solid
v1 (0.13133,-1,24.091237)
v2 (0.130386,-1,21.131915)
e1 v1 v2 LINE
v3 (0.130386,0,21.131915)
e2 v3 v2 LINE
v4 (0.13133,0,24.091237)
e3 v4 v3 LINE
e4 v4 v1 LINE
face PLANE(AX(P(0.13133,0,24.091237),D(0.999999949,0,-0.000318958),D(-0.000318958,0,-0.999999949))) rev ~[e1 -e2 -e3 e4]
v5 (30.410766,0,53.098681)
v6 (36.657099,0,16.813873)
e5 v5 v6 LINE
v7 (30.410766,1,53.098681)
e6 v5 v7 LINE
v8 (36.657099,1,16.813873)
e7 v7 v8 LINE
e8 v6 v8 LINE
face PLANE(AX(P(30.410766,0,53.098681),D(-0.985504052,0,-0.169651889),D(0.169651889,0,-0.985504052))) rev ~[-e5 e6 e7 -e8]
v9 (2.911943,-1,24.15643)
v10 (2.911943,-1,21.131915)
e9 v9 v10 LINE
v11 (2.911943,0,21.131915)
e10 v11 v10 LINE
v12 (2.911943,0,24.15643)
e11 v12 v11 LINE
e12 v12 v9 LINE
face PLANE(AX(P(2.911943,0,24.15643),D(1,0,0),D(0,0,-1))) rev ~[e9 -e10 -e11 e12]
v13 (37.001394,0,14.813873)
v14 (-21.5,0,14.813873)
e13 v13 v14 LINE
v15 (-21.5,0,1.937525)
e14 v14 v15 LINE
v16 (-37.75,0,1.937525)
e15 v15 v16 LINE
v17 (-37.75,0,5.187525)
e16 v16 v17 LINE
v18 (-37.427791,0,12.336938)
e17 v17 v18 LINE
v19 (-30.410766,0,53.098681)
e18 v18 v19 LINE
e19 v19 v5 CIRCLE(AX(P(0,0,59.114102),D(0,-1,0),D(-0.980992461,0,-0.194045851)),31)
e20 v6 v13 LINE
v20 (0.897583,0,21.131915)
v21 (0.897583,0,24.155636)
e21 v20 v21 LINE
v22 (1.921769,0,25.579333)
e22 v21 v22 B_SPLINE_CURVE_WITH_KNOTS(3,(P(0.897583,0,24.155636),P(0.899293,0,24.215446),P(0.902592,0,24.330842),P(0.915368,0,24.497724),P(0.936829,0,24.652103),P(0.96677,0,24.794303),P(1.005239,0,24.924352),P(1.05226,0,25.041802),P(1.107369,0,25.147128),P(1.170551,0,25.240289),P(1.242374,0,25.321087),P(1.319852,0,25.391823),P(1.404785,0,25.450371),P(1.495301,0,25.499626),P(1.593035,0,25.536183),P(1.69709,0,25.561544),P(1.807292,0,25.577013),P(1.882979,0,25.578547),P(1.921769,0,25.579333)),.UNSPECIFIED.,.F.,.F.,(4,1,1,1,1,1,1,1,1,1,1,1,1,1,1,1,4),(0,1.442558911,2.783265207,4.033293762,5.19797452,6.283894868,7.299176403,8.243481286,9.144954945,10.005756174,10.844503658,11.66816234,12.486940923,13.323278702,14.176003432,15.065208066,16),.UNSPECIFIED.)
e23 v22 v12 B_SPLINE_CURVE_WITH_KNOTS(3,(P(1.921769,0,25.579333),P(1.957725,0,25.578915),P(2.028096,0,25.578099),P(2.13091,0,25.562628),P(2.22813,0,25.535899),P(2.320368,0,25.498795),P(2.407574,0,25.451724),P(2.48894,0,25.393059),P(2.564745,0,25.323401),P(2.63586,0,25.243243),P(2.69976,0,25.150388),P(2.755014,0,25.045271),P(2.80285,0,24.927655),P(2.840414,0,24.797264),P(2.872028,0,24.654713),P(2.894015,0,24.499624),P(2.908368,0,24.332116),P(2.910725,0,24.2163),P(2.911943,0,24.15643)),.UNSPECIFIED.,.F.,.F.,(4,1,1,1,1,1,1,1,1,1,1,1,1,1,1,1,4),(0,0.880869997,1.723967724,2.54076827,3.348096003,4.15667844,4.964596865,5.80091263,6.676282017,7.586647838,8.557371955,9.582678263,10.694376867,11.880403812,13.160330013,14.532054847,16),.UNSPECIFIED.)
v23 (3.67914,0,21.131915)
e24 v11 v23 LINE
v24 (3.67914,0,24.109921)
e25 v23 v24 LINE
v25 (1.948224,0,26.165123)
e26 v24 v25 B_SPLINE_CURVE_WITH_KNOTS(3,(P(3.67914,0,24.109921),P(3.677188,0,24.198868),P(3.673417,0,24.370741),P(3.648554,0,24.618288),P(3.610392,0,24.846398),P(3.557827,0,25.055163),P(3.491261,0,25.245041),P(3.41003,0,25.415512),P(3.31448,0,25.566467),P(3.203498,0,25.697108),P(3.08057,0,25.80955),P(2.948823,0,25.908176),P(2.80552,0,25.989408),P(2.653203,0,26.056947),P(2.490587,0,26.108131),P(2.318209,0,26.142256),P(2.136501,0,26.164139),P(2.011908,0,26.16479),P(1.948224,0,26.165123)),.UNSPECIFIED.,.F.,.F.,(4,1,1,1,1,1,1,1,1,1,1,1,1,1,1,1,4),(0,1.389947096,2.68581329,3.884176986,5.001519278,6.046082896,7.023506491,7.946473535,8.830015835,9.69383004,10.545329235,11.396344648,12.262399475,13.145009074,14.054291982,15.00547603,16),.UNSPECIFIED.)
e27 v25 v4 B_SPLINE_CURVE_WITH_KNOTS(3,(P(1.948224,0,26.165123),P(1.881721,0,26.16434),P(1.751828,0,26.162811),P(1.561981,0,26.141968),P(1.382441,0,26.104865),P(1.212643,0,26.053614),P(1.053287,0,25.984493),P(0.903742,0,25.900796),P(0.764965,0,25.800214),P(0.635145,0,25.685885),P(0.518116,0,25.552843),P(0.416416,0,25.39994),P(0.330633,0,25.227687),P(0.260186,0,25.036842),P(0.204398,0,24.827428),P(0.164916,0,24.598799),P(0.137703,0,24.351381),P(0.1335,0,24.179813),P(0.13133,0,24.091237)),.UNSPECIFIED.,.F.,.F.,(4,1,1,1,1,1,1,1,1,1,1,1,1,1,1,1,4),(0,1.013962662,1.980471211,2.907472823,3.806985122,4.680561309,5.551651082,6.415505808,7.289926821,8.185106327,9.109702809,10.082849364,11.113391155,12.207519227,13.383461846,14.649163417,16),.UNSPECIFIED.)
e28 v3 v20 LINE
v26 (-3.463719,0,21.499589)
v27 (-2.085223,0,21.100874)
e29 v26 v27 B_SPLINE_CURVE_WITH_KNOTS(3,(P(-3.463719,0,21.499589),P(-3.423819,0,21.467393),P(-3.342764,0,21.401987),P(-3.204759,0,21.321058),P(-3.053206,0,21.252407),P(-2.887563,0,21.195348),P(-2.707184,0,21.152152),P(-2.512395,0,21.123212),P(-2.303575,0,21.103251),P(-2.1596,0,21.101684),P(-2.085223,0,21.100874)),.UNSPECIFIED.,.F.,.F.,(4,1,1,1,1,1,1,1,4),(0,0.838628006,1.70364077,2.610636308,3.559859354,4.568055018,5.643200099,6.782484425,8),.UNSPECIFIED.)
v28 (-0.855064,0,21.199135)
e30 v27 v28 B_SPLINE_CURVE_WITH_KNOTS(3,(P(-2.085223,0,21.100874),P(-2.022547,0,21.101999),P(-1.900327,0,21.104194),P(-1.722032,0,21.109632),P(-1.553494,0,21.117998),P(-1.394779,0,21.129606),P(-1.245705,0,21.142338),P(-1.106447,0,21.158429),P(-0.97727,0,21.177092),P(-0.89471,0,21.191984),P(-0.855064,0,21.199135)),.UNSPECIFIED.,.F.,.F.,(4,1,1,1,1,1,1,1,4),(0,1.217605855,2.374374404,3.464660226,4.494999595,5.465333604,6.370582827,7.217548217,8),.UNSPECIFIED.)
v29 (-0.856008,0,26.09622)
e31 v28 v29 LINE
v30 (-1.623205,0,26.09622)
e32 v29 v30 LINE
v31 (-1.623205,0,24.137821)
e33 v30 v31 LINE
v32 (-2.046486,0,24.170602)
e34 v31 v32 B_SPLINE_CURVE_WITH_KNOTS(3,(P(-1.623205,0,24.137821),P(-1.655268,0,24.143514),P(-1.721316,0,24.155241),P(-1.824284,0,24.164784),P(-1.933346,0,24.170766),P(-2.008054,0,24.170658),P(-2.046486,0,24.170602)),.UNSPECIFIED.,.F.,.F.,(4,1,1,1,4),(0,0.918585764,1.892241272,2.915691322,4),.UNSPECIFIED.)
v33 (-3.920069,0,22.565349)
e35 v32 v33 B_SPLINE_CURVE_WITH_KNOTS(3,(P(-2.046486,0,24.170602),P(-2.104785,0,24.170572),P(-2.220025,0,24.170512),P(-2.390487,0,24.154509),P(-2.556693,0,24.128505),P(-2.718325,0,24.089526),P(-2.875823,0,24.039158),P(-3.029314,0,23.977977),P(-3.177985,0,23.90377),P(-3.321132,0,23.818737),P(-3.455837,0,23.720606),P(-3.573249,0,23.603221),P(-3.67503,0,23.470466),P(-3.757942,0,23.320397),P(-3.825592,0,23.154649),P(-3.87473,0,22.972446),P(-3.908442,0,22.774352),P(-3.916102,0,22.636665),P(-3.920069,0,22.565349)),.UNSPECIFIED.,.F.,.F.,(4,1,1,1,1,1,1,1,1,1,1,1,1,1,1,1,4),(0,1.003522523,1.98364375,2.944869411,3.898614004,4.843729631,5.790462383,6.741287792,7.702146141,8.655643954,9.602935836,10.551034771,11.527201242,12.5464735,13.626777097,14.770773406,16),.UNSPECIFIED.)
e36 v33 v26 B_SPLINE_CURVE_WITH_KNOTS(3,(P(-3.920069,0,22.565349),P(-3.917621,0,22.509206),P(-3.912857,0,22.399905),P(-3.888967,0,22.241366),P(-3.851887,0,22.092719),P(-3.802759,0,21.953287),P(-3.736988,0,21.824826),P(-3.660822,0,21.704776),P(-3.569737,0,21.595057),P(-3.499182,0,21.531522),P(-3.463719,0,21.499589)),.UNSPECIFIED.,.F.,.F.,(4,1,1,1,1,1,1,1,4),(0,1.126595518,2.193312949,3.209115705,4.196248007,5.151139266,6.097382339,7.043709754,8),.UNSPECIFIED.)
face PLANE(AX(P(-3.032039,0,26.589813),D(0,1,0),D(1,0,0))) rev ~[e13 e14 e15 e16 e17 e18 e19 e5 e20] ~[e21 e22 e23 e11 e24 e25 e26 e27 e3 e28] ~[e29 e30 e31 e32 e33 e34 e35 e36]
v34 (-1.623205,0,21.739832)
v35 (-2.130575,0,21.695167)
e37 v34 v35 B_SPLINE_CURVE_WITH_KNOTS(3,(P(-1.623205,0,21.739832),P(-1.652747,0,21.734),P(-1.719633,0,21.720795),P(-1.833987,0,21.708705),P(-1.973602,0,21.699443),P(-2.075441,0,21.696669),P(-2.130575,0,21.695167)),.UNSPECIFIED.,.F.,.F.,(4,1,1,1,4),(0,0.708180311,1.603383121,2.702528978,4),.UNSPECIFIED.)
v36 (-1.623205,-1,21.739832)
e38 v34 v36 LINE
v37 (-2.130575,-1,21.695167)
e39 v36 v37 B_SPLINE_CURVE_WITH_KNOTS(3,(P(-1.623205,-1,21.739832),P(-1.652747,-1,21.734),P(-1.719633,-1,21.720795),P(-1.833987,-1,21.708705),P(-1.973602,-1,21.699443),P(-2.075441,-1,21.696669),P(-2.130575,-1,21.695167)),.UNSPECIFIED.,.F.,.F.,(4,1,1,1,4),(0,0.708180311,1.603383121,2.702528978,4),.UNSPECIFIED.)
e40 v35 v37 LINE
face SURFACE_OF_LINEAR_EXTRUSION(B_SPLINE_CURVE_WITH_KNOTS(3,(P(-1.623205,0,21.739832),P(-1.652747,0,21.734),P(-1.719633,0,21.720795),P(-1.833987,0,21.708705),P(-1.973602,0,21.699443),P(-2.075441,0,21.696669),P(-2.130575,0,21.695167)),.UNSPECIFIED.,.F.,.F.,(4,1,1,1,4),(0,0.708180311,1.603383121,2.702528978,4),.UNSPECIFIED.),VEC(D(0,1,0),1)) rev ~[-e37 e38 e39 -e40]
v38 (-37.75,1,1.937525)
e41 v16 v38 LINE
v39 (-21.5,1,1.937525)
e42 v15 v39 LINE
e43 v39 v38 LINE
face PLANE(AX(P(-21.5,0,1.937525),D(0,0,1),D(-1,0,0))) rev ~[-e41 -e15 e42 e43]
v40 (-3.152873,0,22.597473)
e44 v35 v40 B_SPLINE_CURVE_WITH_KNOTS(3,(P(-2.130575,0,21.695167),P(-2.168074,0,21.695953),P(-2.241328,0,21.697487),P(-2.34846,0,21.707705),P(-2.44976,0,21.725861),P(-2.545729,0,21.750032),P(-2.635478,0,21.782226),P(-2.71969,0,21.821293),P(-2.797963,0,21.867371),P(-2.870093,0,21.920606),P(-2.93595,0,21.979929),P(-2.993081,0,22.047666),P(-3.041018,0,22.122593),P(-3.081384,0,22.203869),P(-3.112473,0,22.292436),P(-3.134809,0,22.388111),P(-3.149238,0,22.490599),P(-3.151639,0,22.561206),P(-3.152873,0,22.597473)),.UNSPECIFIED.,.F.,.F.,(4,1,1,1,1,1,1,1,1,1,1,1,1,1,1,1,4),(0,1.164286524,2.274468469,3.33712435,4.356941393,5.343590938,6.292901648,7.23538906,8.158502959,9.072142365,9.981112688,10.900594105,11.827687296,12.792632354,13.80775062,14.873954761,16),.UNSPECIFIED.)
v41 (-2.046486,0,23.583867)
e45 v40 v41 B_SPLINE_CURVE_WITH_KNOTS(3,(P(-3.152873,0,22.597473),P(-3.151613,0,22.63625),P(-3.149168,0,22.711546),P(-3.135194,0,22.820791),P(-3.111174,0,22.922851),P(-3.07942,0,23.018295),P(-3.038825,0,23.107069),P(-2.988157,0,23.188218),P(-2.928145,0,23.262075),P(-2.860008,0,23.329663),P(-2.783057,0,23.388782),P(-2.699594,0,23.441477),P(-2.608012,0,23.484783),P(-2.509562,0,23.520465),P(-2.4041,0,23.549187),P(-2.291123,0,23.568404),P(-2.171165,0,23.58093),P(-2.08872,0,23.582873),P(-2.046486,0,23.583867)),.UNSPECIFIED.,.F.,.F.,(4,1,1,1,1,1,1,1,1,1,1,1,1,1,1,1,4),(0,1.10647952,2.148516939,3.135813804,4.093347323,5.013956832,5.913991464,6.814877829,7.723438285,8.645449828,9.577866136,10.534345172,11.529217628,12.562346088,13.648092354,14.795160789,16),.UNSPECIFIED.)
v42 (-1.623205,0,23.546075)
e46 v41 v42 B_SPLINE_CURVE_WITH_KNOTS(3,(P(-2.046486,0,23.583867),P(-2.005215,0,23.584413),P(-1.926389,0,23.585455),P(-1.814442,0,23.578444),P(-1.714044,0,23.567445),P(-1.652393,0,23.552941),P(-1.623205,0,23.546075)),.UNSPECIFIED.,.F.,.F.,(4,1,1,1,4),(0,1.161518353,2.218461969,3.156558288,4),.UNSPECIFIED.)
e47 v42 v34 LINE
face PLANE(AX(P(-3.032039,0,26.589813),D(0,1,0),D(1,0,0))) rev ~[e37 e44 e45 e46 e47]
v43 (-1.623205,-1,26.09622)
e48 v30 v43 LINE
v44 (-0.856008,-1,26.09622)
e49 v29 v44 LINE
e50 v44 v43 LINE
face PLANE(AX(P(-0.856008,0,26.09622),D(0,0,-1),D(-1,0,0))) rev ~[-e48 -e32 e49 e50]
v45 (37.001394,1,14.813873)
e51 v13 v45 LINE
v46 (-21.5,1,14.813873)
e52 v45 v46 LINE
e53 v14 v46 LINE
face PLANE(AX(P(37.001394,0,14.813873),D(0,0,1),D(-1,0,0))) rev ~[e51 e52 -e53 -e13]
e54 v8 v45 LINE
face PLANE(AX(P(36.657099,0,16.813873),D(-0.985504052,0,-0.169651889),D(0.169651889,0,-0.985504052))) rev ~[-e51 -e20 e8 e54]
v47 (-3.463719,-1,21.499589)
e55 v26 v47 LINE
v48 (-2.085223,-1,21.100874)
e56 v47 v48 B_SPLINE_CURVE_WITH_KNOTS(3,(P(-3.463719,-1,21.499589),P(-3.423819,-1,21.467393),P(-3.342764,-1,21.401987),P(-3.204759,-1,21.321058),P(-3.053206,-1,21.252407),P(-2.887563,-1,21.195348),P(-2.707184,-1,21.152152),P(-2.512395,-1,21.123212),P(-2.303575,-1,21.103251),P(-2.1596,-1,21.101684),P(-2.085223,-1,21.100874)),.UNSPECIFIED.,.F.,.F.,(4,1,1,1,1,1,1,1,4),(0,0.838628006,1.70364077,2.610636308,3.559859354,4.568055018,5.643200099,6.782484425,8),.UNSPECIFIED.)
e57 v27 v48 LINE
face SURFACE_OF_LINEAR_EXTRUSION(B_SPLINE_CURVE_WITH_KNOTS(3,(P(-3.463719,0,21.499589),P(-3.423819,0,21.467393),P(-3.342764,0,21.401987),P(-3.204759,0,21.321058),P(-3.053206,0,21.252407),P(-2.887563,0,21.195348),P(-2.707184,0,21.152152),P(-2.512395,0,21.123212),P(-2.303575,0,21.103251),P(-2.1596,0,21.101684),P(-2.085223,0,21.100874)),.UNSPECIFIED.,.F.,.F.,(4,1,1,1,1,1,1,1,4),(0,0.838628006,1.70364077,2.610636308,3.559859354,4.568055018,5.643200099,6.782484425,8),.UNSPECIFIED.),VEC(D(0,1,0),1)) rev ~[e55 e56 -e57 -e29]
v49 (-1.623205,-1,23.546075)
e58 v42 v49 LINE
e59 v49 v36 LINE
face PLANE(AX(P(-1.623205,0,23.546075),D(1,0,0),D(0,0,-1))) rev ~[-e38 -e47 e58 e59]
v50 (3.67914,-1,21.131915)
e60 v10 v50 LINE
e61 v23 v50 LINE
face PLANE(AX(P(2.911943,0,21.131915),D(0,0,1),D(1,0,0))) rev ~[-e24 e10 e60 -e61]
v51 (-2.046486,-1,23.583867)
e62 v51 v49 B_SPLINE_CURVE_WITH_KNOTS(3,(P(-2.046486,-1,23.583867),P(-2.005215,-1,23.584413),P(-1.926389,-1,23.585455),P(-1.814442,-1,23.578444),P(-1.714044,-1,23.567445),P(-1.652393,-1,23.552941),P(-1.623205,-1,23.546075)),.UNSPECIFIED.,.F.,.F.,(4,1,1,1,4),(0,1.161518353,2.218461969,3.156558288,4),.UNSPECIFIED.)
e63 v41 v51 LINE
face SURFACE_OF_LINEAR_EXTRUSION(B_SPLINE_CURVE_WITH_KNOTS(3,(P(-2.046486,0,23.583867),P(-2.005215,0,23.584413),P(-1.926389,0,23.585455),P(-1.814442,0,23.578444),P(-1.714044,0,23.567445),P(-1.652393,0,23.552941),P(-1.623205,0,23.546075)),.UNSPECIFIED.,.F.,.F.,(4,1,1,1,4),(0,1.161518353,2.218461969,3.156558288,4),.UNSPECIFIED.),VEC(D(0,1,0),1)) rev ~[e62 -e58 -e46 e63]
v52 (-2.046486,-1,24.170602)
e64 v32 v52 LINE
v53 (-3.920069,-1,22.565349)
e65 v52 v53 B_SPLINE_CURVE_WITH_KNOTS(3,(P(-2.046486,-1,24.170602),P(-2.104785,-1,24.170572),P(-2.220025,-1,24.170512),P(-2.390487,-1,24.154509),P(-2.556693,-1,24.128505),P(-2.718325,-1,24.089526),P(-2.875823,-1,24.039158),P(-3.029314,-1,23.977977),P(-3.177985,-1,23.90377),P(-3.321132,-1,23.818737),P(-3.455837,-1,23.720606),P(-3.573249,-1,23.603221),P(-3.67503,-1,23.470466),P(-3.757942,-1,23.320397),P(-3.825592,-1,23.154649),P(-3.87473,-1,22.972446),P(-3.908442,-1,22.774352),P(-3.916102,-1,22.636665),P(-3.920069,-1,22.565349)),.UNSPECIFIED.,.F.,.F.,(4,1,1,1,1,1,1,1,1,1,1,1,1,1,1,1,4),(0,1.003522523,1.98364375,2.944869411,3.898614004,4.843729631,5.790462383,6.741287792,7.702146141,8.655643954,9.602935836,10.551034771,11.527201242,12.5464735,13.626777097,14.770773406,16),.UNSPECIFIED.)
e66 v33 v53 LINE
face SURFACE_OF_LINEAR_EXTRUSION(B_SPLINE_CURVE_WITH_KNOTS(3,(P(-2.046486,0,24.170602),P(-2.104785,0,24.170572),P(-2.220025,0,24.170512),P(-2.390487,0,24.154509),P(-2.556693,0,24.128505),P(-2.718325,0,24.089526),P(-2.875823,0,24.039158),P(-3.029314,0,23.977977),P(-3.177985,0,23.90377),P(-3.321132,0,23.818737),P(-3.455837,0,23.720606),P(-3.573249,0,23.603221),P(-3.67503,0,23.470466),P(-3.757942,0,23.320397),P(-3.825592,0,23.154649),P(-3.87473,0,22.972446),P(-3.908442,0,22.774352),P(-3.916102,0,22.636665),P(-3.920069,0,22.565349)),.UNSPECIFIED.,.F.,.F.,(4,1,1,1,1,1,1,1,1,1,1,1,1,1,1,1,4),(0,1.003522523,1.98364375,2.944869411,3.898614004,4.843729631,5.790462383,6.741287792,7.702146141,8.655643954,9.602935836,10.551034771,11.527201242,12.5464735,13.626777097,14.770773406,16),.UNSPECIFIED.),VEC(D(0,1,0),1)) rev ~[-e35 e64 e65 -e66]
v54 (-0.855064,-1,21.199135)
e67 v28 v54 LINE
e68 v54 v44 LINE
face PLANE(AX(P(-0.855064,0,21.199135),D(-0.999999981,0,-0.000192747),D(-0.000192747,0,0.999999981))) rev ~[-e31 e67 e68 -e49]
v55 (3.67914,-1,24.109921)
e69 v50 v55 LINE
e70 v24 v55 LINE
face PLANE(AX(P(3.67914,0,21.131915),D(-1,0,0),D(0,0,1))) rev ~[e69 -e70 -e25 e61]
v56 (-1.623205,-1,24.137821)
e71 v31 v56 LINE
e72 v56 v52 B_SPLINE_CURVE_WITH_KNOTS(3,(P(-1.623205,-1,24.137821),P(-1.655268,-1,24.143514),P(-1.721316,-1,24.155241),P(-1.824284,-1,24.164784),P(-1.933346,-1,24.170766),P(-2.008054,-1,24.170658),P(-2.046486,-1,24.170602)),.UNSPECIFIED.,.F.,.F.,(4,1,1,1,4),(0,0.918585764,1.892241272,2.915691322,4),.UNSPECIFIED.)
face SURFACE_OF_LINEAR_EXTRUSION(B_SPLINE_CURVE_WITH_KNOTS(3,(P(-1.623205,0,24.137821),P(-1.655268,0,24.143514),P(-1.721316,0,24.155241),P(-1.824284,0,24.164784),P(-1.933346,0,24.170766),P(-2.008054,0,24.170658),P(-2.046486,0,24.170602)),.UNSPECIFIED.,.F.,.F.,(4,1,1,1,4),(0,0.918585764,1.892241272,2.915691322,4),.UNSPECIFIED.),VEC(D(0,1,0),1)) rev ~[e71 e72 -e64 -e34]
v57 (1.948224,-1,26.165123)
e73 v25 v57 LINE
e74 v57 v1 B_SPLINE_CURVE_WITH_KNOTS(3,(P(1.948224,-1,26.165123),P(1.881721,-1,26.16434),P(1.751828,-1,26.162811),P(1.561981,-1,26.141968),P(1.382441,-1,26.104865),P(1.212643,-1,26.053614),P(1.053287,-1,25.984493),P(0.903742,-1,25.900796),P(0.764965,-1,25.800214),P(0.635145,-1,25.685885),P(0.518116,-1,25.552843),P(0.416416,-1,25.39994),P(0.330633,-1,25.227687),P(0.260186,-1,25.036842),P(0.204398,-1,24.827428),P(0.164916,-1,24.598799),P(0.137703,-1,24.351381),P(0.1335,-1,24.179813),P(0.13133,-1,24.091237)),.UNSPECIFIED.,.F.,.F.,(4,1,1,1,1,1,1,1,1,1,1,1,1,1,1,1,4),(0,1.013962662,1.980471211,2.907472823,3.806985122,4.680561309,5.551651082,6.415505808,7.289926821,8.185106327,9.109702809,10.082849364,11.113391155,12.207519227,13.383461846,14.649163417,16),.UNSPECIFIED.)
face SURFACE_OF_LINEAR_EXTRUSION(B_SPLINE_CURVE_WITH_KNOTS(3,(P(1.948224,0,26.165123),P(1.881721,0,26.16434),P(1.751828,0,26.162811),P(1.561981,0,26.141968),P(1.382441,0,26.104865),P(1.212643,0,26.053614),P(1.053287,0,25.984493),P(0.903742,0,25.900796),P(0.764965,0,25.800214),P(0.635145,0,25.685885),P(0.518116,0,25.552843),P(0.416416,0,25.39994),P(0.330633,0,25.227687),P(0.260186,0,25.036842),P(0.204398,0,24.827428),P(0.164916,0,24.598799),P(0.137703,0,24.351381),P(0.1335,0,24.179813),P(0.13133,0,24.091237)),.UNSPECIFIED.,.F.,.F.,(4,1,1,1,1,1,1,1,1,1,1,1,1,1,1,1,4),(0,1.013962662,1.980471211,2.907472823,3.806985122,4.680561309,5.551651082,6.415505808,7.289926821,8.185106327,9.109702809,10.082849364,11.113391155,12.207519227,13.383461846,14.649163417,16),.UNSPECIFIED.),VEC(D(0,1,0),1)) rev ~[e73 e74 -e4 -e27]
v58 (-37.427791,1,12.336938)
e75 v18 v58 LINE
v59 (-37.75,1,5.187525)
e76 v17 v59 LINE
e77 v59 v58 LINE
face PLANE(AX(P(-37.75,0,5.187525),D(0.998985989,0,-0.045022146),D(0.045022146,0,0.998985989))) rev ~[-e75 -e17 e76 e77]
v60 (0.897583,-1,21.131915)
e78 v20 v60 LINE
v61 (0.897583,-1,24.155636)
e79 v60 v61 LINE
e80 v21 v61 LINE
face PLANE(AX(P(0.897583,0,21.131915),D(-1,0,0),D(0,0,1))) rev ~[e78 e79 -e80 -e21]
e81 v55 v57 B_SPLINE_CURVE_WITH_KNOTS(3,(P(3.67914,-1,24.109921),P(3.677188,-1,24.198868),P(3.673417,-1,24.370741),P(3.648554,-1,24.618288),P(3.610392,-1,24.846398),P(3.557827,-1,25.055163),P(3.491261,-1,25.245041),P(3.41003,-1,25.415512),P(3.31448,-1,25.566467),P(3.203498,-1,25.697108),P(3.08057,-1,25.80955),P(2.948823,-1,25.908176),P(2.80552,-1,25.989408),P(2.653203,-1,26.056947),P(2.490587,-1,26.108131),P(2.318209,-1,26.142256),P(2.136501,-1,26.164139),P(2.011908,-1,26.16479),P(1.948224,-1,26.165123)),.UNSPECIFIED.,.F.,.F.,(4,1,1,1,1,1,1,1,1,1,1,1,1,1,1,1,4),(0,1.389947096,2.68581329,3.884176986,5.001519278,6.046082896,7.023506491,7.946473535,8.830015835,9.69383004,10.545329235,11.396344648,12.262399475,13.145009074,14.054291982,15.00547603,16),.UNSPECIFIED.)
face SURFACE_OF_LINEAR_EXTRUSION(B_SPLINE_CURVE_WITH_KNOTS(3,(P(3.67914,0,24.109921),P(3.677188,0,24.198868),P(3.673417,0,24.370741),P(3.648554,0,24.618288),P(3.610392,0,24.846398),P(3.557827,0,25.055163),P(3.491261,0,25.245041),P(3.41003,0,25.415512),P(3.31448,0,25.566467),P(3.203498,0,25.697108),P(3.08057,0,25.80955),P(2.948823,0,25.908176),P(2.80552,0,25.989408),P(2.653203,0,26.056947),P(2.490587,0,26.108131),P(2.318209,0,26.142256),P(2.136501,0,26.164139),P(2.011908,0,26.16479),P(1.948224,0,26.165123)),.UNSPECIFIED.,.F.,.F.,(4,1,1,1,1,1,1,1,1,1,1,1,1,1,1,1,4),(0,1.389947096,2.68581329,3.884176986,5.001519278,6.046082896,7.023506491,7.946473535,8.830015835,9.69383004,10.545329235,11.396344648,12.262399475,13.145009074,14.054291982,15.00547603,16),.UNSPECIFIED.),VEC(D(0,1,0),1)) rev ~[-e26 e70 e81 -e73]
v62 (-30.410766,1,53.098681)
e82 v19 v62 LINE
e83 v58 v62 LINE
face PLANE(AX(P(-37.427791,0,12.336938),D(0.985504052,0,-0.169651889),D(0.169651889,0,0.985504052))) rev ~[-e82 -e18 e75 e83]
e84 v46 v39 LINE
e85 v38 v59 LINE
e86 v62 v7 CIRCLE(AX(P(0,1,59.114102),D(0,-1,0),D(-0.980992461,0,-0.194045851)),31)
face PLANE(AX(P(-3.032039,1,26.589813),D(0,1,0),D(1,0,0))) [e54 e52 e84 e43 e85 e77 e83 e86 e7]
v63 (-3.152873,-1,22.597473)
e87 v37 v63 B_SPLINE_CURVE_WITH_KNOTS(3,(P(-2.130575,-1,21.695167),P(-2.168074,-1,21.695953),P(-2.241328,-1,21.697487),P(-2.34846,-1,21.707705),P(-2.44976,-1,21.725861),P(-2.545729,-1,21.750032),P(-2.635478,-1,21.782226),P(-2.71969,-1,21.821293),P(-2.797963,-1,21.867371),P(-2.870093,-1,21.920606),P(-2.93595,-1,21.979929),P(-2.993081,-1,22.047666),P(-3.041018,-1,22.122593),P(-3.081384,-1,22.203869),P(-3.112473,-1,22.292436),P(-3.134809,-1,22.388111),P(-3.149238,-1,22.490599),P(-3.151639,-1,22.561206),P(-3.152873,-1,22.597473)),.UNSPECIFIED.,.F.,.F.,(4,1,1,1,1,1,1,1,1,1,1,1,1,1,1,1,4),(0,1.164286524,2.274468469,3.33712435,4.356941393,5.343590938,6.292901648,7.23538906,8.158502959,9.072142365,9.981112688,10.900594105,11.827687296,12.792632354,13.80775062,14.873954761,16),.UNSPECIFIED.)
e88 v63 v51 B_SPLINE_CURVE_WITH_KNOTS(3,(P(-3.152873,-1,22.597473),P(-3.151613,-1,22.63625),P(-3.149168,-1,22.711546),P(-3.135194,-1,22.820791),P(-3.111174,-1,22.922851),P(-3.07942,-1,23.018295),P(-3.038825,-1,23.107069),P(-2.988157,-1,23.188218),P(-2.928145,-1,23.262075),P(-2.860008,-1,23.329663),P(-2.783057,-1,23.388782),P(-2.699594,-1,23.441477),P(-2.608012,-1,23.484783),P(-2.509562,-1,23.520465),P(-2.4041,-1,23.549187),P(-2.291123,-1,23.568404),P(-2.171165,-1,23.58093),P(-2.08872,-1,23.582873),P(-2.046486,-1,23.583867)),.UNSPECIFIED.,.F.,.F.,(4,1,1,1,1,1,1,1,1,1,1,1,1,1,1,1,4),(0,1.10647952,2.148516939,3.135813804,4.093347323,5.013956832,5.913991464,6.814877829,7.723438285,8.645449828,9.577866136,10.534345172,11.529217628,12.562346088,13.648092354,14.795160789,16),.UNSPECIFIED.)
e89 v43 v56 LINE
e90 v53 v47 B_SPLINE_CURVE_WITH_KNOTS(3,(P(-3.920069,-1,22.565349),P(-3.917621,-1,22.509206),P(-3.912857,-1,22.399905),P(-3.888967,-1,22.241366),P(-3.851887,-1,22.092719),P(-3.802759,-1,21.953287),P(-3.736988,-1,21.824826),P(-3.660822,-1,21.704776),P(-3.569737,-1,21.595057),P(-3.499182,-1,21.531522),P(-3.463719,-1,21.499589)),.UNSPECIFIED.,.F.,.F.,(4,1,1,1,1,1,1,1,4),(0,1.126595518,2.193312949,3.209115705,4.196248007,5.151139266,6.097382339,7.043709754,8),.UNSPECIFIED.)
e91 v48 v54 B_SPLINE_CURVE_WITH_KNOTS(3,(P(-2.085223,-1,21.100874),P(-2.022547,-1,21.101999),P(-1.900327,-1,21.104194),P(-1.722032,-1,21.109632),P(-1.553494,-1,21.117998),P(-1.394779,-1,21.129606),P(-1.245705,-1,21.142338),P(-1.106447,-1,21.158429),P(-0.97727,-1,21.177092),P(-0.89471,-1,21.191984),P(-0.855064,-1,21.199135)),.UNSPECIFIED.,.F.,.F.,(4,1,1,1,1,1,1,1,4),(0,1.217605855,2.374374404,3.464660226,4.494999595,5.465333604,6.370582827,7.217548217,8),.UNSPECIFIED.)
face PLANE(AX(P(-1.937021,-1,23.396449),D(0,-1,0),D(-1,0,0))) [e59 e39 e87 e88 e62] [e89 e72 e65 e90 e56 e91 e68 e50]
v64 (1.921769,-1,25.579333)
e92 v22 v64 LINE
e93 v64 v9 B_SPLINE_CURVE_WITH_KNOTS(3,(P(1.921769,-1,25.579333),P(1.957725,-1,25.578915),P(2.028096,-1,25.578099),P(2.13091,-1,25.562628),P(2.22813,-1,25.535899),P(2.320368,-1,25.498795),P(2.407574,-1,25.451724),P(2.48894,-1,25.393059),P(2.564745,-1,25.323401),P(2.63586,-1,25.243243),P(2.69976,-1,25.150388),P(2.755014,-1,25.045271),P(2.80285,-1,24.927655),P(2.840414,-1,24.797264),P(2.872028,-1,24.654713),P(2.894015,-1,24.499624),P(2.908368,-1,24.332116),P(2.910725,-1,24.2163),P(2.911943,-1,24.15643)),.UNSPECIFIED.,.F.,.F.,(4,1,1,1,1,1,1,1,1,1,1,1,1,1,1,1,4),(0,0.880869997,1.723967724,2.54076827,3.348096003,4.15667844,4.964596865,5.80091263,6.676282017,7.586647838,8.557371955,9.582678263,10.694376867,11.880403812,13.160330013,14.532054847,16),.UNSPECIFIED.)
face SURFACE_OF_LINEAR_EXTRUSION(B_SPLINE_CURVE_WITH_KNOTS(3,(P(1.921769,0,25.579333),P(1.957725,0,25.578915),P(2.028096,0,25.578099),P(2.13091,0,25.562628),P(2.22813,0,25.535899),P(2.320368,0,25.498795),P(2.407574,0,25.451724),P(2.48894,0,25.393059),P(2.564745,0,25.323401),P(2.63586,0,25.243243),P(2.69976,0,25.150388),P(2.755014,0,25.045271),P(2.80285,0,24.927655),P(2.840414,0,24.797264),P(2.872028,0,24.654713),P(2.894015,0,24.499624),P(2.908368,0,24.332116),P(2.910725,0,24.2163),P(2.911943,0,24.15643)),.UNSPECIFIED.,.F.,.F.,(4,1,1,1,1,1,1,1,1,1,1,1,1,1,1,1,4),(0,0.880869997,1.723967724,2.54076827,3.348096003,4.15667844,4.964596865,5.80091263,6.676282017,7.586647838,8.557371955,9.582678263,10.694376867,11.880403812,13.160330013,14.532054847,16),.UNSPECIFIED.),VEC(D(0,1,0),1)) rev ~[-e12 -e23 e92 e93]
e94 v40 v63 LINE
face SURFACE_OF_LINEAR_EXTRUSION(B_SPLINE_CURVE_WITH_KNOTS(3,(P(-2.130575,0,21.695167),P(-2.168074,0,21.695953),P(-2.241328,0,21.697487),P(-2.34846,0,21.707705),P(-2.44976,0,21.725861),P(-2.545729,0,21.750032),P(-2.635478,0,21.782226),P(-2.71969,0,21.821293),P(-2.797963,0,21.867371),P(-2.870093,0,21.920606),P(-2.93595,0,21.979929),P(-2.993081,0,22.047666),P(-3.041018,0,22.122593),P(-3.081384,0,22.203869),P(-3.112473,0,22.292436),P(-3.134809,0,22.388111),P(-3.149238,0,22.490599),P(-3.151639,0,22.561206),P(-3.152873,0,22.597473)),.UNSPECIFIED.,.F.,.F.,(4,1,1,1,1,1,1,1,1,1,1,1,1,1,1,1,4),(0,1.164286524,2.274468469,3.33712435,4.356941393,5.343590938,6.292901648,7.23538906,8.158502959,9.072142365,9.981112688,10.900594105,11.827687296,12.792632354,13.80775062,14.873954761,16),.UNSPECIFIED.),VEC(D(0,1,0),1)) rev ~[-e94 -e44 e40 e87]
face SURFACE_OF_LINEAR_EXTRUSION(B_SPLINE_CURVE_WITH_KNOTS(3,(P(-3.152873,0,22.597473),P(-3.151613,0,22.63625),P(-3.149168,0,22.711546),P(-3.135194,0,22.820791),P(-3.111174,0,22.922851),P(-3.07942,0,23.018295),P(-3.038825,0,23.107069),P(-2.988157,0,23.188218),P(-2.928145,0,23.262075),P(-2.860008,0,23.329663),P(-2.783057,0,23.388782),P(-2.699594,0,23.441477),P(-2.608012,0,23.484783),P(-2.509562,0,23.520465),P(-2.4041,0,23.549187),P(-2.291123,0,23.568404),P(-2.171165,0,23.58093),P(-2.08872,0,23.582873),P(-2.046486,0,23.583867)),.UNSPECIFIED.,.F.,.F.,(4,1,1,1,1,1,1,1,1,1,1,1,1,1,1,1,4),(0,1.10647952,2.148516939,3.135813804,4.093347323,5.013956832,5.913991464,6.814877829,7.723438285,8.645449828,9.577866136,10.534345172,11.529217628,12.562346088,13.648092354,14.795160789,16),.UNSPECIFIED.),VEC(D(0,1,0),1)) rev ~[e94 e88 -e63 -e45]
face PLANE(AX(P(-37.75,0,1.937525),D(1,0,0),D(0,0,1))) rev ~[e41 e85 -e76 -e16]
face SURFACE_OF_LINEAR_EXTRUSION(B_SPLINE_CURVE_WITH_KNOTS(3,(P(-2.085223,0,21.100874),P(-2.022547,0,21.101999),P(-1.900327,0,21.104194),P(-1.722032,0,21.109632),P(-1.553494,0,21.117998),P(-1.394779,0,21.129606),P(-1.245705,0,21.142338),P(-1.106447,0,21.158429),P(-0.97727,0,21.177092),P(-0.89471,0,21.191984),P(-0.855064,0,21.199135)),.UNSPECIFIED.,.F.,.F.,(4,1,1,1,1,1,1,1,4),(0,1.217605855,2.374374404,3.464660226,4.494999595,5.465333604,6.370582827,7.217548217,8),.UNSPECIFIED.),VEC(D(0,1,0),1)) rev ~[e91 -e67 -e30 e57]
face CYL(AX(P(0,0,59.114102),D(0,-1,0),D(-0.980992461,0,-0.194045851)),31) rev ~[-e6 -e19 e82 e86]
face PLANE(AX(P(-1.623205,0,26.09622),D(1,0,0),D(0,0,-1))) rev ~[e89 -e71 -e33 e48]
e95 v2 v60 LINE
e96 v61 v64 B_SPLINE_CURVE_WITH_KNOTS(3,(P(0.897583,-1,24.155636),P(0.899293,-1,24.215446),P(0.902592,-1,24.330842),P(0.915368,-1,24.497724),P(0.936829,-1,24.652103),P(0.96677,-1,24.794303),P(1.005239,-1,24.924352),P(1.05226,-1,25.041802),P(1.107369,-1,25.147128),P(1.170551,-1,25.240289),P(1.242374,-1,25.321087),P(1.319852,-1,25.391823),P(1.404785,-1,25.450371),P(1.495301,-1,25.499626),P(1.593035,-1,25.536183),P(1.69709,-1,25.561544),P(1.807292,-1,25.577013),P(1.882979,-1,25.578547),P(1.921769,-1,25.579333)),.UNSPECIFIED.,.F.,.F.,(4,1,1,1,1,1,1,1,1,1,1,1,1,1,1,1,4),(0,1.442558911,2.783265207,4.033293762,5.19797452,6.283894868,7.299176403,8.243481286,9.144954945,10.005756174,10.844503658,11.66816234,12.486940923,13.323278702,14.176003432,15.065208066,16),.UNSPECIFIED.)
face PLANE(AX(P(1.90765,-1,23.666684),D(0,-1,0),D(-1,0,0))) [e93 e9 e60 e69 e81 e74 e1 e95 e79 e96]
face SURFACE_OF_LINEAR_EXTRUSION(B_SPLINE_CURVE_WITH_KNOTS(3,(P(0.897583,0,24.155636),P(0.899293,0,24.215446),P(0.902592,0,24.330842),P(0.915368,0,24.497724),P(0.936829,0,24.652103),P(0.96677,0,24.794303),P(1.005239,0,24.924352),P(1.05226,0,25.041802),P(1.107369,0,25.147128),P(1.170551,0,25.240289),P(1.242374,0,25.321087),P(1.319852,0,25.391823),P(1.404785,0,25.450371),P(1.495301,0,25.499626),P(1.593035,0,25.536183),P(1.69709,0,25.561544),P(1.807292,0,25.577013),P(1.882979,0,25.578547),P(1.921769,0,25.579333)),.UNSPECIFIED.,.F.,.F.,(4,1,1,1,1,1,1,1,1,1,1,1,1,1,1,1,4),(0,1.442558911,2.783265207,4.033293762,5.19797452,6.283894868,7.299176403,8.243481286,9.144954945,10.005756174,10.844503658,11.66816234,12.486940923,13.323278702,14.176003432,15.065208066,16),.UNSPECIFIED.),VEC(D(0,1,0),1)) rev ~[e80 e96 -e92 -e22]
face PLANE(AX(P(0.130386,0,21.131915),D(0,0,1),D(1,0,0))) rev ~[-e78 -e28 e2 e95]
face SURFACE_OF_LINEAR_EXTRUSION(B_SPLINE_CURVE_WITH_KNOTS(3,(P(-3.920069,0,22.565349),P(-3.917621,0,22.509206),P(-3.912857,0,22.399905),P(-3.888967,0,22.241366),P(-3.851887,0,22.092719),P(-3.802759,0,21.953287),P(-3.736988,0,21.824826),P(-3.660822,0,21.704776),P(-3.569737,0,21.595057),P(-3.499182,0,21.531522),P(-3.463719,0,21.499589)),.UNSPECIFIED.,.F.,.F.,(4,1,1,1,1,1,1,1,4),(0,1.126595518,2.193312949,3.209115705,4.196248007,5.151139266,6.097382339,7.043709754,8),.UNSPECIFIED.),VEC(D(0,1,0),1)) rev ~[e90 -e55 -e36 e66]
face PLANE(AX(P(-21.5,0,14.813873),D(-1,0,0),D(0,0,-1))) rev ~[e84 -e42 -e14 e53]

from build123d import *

# Parameters (mm, degrees)
EXTRUDE_1_DEPTH = 1
EXTRUDE_2_DEPTH = 1


with BuildPart() as part:
    # 草图2 → 凸台-拉伸1 (new body)
    with BuildSketch(Plane(origin=(0, 0, 0), x_dir=(1, 0, 0), z_dir=(0, 1, 0))):
        with BuildLine():
            Line((-37.75, -5.187524662), (-37.427791342, -12.336938121))
            Line((-37.427791342, -12.336938121), (-30.410766277, -53.09868086))
            ThreePointArc((-30.410766277, -53.09868086), (0, -28.114102247), (30.410766277, -53.09868086))
            Line((30.410766277, -53.09868086), (36.657098941, -16.813873157))
            Line((36.657098941, -16.813873157), (37.001393596, -14.813873158))
            Line((37.001393596, -14.813873158), (-21.5, -14.813873158))
            Line((-21.5, -14.813873158), (-21.5, -1.937524662))
            Line((-21.5, -1.937524662), (-37.75, -1.937524662))
            Line((-37.75, -1.937524662), (-37.75, -5.187524662))
        make_face()
    extrude(amount=EXTRUDE_1_DEPTH)

    # 草图3 → 凸台-拉伸2 (add)
    # profile 1 of 2: a face of its own
    with BuildSketch(Plane(origin=(0, 0, 0), x_dir=(1, 0, 0), z_dir=(0, 1, 0))):
        with BuildLine():
            Line((-0.856008306, -26.09621982), (-1.623205137, -26.09621982))
            Line((-1.623205137, -26.09621982), (-1.623205137, -24.137821353))
            add(Edge.make_bspline(
                [(-1.623205137, -24.137821353), (-1.655268125, -24.143514077), (-1.721316296, -24.155240806), (-1.824283839, -24.164783502), (-1.933346323, -24.17076586), (-2.008053511, -24.170657837), (-2.046485638, -24.170602266)],
                knots=[0, 0, 0, 0, 0.918585764, 1.892241272, 2.915691322, 4, 4, 4, 4], degree=3))
            add(Edge.make_bspline(
                [(-2.046485638, -24.170602266), (-2.104785366, -24.170571941), (-2.220025321, -24.170511997), (-2.390487029, -24.154509017), (-2.556692953, -24.12850453), (-2.718324735, -24.089526065), (-2.87582336, -24.039158247), (-3.029314168, -23.977977332), (-3.17798521, -23.903769977), (-3.321131503, -23.818737452), (-3.455836859, -23.720606314), (-3.573248856, -23.603221137), (-3.675029776, -23.4704659), (-3.7579419, -23.320396932), (-3.825592093, -23.154649423), (-3.874729538, -22.972446384), (-3.908442208, -22.774352183), (-3.916101546, -22.636664835), (-3.920068751, -22.565348758)],
                knots=[0, 0, 0, 0, 1.003522523, 1.98364375, 2.944869411, 3.898614004, 4.843729631, 5.790462383, 6.741287792, 7.702146141, 8.655643954, 9.602935836, 10.551034771, 11.527201242, 12.5464735, 13.626777097, 14.770773406, 16, 16, 16, 16], degree=3))
            add(Edge.make_bspline(
                [(-3.920068751, -22.565348758), (-3.917621314, -22.509206105), (-3.912856522, -22.399904758), (-3.888966748, -22.241365875), (-3.851887205, -22.092719231), (-3.802758946, -21.953287322), (-3.736987826, -21.824826369), (-3.660822021, -21.704776101), (-3.569736975, -21.595056691), (-3.499181783, -21.53152241), (-3.46371946, -21.499588924)],
                knots=[0, 0, 0, 0, 1.126595518, 2.193312949, 3.209115705, 4.196248007, 5.151139266, 6.097382339, 7.043709754, 8, 8, 8, 8], degree=3))
            add(Edge.make_bspline(
                [(-3.46371946, -21.499588924), (-3.423819299, -21.467392586), (-3.342763644, -21.401986955), (-3.204758648, -21.32105817), (-3.053205789, -21.252406965), (-2.887562725, -21.19534799), (-2.707183639, -21.152151647), (-2.5123955, -21.123211501), (-2.303575344, -21.103250861), (-2.159600384, -21.101683502), (-2.085223363, -21.100873809)],
                knots=[0, 0, 0, 0, 0.838628006, 1.70364077, 2.610636308, 3.559859354, 4.568055018, 5.643200099, 6.782484425, 8, 8, 8, 8], degree=3))
            add(Edge.make_bspline(
                [(-2.085223363, -21.100873809), (-2.022547246, -21.101999243), (-1.900326605, -21.10419388), (-1.722031706, -21.10963235), (-1.553493577, -21.11799829), (-1.394779498, -21.129605553), (-1.245704987, -21.14233845), (-1.106447222, -21.158428618), (-0.977269579, -21.177092329), (-0.894709866, -21.191984217), (-0.855064406, -21.199135354)],
                knots=[0, 0, 0, 0, 1.217605855, 2.374374404, 3.464660226, 4.494999595, 5.465333604, 6.370582827, 7.217548217, 8, 8, 8, 8], degree=3))
            Line((-0.855064406, -21.199135354), (-0.856008306, -26.09621982))
        make_face()
        with BuildLine():
            add(Edge.make_bspline(
                [(-1.623205137, -21.739832201), (-1.65274721, -21.733999838), (-1.719633086, -21.720794849), (-1.833986924, -21.708704947), (-1.973601931, -21.699443395), (-2.075441396, -21.696669118), (-2.130574845, -21.695167191)],
                knots=[0, 0, 0, 0, 0.708180311, 1.603383121, 2.702528978, 4, 4, 4, 4], degree=3))
            add(Edge.make_bspline(
                [(-2.130574845, -21.695167191), (-2.168073561, -21.695952692), (-2.24132842, -21.697487191), (-2.348460101, -21.707705221), (-2.449759776, -21.725860501), (-2.54572877, -21.750031884), (-2.635478405, -21.782226009), (-2.71969003, -21.821293247), (-2.797963445, -21.867371353), (-2.870093205, -21.92060581), (-2.935949572, -21.979929245), (-2.993080877, -22.047665882), (-3.041017981, -22.122592696), (-3.081384443, -22.203868683), (-3.112473184, -22.292435582), (-3.13480904, -22.388111375), (-3.14923784, -22.490598656), (-3.151639324, -22.56120559), (-3.152872842, -22.597472724)],
                knots=[0, 0, 0, 0, 1.164286524, 2.274468469, 3.33712435, 4.356941393, 5.343590938, 6.292901648, 7.23538906, 8.158502959, 9.072142365, 9.981112688, 10.900594105, 11.827687296, 12.792632354, 13.80775062, 14.873954761, 16, 16, 16, 16], degree=3))
            add(Edge.make_bspline(
                [(-3.152872842, -22.597472724), (-3.151613433, -22.636249876), (-3.149167963, -22.711545774), (-3.13519411, -22.82079109), (-3.111174009, -22.922850983), (-3.079419521, -23.018294919), (-3.038824966, -23.107069292), (-2.988156623, -23.188218343), (-2.928144539, -23.262075146), (-2.860007553, -23.329662929), (-2.783057089, -23.388781734), (-2.699594044, -23.441477416), (-2.608012254, -23.4847832), (-2.509562282, -23.520465241), (-2.404100063, -23.54918737), (-2.291122917, -23.56840422), (-2.171164858, -23.580930403), (-2.088720416, -23.582872542), (-2.046485638, -23.583867464)],
                knots=[0, 0, 0, 0, 1.10647952, 2.148516939, 3.135813804, 4.093347323, 5.013956832, 5.913991464, 6.814877829, 7.723438285, 8.645449828, 9.577866136, 10.534345172, 11.529217628, 12.562346088, 13.648092354, 14.795160789, 16, 16, 16, 16], degree=3))
            add(Edge.make_bspline(
                [(-2.046485638, -23.583867464), (-2.00521482, -23.584412899), (-1.926388911, -23.585454662), (-1.814442024, -23.578443617), (-1.714043734, -23.567445346), (-1.652392814, -23.552941286), (-1.623205137, -23.546074562)],
                knots=[0, 0, 0, 0, 1.161518353, 2.218461969, 3.156558288, 4, 4, 4, 4], degree=3))
            Line((-1.623205137, -23.546074562), (-1.623205137, -21.739832201))
        make_face(mode=Mode.SUBTRACT)
    # profile 2 of 2: a face of its own
    with BuildSketch(Plane(origin=(0, 0, 0), x_dir=(1, 0, 0), z_dir=(0, 1, 0))):
        with BuildLine():
            Line((0.130386434, -21.131914551), (0.897583266, -21.131914551))
            Line((0.897583266, -21.131914551), (0.897583266, -24.155636425))
            add(Edge.make_bspline(
                [(0.897583266, -24.155636425), (0.89929321, -24.215445763), (0.902592367, -24.33084157), (0.915368258, -24.497724176), (0.936829282, -24.652102877), (0.966769663, -24.79430293), (1.005239493, -24.924351911), (1.052260261, -25.041802473), (1.107369405, -25.147128319), (1.170551424, -25.240289062), (1.242373791, -25.321087274), (1.319851887, -25.391822873), (1.404784791, -25.450371121), (1.495300915, -25.499626189), (1.593035117, -25.536183316), (1.69708966, -25.5615439), (1.807291946, -25.577012589), (1.882979468, -25.57854654), (1.921769062, -25.579332685)],
                knots=[0, 0, 0, 0, 1.442558911, 2.783265207, 4.033293762, 5.19797452, 6.283894868, 7.299176403, 8.243481286, 9.144954945, 10.005756174, 10.844503658, 11.66816234, 12.486940923, 13.323278702, 14.176003432, 15.065208066, 16, 16, 16, 16], degree=3))
            add(Edge.make_bspline(
                [(1.921769062, -25.579332685), (1.957725333, -25.578915325), (2.028096046, -25.578098501), (2.130909973, -25.562628358), (2.228129718, -25.535898617), (2.320368479, -25.498795392), (2.40757394, -25.451723675), (2.488940384, -25.393059054), (2.564744704, -25.323401018), (2.635860422, -25.243242907), (2.699760366, -25.150387865), (2.755013907, -25.045271413), (2.802850288, -24.927654795), (2.840414423, -24.797263515), (2.872028446, -24.654713055), (2.894014576, -24.499623904), (2.908368244, -24.332115662), (2.910724859, -24.216299952), (2.911943092, -24.156429928)],
                knots=[0, 0, 0, 0, 0.880869997, 1.723967724, 2.54076827, 3.348096003, 4.15667844, 4.964596865, 5.80091263, 6.676282017, 7.586647838, 8.557371955, 9.582678263, 10.694376867, 11.880403812, 13.160330013, 14.532054847, 16, 16, 16, 16], degree=3))
            Line((2.911943092, -24.156429928), (2.911943092, -21.131914551))
            Line((2.911943092, -21.131914551), (3.679139924, -21.131914551))
            Line((3.679139924, -21.131914551), (3.679139924, -24.109921407))
            add(Edge.make_bspline(
                [(3.679139924, -24.109921407), (3.677188401, -24.198867937), (3.673417448, -24.370740501), (3.648553918, -24.618287645), (3.610391814, -24.846397955), (3.557827499, -25.055163342), (3.491261126, -25.245040827), (3.410030292, -25.415512075), (3.31448028, -25.566466666), (3.203498097, -25.697108223), (3.080569907, -25.809550333), (2.94882349, -25.908176054), (2.805519828, -25.989407969), (2.653202823, -26.056947418), (2.49058693, -26.108131021), (2.318208544, -26.142255886), (2.1365007, -26.164139495), (2.011908047, -26.164790111), (1.948224093, -26.165122665)],
                knots=[0, 0, 0, 0, 1.389947096, 2.68581329, 3.884176986, 5.001519278, 6.046082896, 7.023506491, 7.946473535, 8.830015835, 9.69383004, 10.545329235, 11.396344648, 12.262399475, 13.145009074, 14.054291982, 15.00547603, 16, 16, 16, 16], degree=3))
            add(Edge.make_bspline(
                [(1.948224093, -26.165122665), (1.881721214, -26.164339998), (1.751827834, -26.162811293), (1.561981249, -26.141967577), (1.382440978, -26.104865244), (1.212643091, -26.053613752), (1.053287044, -25.984492529), (0.903741738, -25.900795559), (0.764964905, -25.800213917), (0.635145258, -25.685884953), (0.518115943, -25.552843022), (0.4164162, -25.399939828), (0.330633136, -25.227687461), (0.260185761, -25.036841598), (0.204398311, -24.827427738), (0.164915765, -24.598798774), (0.137702567, -24.351381444), (0.133499992, -24.179812722), (0.131330334, -24.091237172)],
                knots=[0, 0, 0, 0, 1.013962662, 1.980471211, 2.907472823, 3.806985122, 4.680561309, 5.551651082, 6.415505808, 7.289926821, 8.185106327, 9.109702809, 10.082849364, 11.113391155, 12.207519227, 13.383461846, 14.649163417, 16, 16, 16, 16], degree=3))
            Line((0.131330334, -24.091237172), (0.130386434, -21.131914551))
        make_face()
    extrude(amount=-EXTRUDE_2_DEPTH)


solid = part.part
